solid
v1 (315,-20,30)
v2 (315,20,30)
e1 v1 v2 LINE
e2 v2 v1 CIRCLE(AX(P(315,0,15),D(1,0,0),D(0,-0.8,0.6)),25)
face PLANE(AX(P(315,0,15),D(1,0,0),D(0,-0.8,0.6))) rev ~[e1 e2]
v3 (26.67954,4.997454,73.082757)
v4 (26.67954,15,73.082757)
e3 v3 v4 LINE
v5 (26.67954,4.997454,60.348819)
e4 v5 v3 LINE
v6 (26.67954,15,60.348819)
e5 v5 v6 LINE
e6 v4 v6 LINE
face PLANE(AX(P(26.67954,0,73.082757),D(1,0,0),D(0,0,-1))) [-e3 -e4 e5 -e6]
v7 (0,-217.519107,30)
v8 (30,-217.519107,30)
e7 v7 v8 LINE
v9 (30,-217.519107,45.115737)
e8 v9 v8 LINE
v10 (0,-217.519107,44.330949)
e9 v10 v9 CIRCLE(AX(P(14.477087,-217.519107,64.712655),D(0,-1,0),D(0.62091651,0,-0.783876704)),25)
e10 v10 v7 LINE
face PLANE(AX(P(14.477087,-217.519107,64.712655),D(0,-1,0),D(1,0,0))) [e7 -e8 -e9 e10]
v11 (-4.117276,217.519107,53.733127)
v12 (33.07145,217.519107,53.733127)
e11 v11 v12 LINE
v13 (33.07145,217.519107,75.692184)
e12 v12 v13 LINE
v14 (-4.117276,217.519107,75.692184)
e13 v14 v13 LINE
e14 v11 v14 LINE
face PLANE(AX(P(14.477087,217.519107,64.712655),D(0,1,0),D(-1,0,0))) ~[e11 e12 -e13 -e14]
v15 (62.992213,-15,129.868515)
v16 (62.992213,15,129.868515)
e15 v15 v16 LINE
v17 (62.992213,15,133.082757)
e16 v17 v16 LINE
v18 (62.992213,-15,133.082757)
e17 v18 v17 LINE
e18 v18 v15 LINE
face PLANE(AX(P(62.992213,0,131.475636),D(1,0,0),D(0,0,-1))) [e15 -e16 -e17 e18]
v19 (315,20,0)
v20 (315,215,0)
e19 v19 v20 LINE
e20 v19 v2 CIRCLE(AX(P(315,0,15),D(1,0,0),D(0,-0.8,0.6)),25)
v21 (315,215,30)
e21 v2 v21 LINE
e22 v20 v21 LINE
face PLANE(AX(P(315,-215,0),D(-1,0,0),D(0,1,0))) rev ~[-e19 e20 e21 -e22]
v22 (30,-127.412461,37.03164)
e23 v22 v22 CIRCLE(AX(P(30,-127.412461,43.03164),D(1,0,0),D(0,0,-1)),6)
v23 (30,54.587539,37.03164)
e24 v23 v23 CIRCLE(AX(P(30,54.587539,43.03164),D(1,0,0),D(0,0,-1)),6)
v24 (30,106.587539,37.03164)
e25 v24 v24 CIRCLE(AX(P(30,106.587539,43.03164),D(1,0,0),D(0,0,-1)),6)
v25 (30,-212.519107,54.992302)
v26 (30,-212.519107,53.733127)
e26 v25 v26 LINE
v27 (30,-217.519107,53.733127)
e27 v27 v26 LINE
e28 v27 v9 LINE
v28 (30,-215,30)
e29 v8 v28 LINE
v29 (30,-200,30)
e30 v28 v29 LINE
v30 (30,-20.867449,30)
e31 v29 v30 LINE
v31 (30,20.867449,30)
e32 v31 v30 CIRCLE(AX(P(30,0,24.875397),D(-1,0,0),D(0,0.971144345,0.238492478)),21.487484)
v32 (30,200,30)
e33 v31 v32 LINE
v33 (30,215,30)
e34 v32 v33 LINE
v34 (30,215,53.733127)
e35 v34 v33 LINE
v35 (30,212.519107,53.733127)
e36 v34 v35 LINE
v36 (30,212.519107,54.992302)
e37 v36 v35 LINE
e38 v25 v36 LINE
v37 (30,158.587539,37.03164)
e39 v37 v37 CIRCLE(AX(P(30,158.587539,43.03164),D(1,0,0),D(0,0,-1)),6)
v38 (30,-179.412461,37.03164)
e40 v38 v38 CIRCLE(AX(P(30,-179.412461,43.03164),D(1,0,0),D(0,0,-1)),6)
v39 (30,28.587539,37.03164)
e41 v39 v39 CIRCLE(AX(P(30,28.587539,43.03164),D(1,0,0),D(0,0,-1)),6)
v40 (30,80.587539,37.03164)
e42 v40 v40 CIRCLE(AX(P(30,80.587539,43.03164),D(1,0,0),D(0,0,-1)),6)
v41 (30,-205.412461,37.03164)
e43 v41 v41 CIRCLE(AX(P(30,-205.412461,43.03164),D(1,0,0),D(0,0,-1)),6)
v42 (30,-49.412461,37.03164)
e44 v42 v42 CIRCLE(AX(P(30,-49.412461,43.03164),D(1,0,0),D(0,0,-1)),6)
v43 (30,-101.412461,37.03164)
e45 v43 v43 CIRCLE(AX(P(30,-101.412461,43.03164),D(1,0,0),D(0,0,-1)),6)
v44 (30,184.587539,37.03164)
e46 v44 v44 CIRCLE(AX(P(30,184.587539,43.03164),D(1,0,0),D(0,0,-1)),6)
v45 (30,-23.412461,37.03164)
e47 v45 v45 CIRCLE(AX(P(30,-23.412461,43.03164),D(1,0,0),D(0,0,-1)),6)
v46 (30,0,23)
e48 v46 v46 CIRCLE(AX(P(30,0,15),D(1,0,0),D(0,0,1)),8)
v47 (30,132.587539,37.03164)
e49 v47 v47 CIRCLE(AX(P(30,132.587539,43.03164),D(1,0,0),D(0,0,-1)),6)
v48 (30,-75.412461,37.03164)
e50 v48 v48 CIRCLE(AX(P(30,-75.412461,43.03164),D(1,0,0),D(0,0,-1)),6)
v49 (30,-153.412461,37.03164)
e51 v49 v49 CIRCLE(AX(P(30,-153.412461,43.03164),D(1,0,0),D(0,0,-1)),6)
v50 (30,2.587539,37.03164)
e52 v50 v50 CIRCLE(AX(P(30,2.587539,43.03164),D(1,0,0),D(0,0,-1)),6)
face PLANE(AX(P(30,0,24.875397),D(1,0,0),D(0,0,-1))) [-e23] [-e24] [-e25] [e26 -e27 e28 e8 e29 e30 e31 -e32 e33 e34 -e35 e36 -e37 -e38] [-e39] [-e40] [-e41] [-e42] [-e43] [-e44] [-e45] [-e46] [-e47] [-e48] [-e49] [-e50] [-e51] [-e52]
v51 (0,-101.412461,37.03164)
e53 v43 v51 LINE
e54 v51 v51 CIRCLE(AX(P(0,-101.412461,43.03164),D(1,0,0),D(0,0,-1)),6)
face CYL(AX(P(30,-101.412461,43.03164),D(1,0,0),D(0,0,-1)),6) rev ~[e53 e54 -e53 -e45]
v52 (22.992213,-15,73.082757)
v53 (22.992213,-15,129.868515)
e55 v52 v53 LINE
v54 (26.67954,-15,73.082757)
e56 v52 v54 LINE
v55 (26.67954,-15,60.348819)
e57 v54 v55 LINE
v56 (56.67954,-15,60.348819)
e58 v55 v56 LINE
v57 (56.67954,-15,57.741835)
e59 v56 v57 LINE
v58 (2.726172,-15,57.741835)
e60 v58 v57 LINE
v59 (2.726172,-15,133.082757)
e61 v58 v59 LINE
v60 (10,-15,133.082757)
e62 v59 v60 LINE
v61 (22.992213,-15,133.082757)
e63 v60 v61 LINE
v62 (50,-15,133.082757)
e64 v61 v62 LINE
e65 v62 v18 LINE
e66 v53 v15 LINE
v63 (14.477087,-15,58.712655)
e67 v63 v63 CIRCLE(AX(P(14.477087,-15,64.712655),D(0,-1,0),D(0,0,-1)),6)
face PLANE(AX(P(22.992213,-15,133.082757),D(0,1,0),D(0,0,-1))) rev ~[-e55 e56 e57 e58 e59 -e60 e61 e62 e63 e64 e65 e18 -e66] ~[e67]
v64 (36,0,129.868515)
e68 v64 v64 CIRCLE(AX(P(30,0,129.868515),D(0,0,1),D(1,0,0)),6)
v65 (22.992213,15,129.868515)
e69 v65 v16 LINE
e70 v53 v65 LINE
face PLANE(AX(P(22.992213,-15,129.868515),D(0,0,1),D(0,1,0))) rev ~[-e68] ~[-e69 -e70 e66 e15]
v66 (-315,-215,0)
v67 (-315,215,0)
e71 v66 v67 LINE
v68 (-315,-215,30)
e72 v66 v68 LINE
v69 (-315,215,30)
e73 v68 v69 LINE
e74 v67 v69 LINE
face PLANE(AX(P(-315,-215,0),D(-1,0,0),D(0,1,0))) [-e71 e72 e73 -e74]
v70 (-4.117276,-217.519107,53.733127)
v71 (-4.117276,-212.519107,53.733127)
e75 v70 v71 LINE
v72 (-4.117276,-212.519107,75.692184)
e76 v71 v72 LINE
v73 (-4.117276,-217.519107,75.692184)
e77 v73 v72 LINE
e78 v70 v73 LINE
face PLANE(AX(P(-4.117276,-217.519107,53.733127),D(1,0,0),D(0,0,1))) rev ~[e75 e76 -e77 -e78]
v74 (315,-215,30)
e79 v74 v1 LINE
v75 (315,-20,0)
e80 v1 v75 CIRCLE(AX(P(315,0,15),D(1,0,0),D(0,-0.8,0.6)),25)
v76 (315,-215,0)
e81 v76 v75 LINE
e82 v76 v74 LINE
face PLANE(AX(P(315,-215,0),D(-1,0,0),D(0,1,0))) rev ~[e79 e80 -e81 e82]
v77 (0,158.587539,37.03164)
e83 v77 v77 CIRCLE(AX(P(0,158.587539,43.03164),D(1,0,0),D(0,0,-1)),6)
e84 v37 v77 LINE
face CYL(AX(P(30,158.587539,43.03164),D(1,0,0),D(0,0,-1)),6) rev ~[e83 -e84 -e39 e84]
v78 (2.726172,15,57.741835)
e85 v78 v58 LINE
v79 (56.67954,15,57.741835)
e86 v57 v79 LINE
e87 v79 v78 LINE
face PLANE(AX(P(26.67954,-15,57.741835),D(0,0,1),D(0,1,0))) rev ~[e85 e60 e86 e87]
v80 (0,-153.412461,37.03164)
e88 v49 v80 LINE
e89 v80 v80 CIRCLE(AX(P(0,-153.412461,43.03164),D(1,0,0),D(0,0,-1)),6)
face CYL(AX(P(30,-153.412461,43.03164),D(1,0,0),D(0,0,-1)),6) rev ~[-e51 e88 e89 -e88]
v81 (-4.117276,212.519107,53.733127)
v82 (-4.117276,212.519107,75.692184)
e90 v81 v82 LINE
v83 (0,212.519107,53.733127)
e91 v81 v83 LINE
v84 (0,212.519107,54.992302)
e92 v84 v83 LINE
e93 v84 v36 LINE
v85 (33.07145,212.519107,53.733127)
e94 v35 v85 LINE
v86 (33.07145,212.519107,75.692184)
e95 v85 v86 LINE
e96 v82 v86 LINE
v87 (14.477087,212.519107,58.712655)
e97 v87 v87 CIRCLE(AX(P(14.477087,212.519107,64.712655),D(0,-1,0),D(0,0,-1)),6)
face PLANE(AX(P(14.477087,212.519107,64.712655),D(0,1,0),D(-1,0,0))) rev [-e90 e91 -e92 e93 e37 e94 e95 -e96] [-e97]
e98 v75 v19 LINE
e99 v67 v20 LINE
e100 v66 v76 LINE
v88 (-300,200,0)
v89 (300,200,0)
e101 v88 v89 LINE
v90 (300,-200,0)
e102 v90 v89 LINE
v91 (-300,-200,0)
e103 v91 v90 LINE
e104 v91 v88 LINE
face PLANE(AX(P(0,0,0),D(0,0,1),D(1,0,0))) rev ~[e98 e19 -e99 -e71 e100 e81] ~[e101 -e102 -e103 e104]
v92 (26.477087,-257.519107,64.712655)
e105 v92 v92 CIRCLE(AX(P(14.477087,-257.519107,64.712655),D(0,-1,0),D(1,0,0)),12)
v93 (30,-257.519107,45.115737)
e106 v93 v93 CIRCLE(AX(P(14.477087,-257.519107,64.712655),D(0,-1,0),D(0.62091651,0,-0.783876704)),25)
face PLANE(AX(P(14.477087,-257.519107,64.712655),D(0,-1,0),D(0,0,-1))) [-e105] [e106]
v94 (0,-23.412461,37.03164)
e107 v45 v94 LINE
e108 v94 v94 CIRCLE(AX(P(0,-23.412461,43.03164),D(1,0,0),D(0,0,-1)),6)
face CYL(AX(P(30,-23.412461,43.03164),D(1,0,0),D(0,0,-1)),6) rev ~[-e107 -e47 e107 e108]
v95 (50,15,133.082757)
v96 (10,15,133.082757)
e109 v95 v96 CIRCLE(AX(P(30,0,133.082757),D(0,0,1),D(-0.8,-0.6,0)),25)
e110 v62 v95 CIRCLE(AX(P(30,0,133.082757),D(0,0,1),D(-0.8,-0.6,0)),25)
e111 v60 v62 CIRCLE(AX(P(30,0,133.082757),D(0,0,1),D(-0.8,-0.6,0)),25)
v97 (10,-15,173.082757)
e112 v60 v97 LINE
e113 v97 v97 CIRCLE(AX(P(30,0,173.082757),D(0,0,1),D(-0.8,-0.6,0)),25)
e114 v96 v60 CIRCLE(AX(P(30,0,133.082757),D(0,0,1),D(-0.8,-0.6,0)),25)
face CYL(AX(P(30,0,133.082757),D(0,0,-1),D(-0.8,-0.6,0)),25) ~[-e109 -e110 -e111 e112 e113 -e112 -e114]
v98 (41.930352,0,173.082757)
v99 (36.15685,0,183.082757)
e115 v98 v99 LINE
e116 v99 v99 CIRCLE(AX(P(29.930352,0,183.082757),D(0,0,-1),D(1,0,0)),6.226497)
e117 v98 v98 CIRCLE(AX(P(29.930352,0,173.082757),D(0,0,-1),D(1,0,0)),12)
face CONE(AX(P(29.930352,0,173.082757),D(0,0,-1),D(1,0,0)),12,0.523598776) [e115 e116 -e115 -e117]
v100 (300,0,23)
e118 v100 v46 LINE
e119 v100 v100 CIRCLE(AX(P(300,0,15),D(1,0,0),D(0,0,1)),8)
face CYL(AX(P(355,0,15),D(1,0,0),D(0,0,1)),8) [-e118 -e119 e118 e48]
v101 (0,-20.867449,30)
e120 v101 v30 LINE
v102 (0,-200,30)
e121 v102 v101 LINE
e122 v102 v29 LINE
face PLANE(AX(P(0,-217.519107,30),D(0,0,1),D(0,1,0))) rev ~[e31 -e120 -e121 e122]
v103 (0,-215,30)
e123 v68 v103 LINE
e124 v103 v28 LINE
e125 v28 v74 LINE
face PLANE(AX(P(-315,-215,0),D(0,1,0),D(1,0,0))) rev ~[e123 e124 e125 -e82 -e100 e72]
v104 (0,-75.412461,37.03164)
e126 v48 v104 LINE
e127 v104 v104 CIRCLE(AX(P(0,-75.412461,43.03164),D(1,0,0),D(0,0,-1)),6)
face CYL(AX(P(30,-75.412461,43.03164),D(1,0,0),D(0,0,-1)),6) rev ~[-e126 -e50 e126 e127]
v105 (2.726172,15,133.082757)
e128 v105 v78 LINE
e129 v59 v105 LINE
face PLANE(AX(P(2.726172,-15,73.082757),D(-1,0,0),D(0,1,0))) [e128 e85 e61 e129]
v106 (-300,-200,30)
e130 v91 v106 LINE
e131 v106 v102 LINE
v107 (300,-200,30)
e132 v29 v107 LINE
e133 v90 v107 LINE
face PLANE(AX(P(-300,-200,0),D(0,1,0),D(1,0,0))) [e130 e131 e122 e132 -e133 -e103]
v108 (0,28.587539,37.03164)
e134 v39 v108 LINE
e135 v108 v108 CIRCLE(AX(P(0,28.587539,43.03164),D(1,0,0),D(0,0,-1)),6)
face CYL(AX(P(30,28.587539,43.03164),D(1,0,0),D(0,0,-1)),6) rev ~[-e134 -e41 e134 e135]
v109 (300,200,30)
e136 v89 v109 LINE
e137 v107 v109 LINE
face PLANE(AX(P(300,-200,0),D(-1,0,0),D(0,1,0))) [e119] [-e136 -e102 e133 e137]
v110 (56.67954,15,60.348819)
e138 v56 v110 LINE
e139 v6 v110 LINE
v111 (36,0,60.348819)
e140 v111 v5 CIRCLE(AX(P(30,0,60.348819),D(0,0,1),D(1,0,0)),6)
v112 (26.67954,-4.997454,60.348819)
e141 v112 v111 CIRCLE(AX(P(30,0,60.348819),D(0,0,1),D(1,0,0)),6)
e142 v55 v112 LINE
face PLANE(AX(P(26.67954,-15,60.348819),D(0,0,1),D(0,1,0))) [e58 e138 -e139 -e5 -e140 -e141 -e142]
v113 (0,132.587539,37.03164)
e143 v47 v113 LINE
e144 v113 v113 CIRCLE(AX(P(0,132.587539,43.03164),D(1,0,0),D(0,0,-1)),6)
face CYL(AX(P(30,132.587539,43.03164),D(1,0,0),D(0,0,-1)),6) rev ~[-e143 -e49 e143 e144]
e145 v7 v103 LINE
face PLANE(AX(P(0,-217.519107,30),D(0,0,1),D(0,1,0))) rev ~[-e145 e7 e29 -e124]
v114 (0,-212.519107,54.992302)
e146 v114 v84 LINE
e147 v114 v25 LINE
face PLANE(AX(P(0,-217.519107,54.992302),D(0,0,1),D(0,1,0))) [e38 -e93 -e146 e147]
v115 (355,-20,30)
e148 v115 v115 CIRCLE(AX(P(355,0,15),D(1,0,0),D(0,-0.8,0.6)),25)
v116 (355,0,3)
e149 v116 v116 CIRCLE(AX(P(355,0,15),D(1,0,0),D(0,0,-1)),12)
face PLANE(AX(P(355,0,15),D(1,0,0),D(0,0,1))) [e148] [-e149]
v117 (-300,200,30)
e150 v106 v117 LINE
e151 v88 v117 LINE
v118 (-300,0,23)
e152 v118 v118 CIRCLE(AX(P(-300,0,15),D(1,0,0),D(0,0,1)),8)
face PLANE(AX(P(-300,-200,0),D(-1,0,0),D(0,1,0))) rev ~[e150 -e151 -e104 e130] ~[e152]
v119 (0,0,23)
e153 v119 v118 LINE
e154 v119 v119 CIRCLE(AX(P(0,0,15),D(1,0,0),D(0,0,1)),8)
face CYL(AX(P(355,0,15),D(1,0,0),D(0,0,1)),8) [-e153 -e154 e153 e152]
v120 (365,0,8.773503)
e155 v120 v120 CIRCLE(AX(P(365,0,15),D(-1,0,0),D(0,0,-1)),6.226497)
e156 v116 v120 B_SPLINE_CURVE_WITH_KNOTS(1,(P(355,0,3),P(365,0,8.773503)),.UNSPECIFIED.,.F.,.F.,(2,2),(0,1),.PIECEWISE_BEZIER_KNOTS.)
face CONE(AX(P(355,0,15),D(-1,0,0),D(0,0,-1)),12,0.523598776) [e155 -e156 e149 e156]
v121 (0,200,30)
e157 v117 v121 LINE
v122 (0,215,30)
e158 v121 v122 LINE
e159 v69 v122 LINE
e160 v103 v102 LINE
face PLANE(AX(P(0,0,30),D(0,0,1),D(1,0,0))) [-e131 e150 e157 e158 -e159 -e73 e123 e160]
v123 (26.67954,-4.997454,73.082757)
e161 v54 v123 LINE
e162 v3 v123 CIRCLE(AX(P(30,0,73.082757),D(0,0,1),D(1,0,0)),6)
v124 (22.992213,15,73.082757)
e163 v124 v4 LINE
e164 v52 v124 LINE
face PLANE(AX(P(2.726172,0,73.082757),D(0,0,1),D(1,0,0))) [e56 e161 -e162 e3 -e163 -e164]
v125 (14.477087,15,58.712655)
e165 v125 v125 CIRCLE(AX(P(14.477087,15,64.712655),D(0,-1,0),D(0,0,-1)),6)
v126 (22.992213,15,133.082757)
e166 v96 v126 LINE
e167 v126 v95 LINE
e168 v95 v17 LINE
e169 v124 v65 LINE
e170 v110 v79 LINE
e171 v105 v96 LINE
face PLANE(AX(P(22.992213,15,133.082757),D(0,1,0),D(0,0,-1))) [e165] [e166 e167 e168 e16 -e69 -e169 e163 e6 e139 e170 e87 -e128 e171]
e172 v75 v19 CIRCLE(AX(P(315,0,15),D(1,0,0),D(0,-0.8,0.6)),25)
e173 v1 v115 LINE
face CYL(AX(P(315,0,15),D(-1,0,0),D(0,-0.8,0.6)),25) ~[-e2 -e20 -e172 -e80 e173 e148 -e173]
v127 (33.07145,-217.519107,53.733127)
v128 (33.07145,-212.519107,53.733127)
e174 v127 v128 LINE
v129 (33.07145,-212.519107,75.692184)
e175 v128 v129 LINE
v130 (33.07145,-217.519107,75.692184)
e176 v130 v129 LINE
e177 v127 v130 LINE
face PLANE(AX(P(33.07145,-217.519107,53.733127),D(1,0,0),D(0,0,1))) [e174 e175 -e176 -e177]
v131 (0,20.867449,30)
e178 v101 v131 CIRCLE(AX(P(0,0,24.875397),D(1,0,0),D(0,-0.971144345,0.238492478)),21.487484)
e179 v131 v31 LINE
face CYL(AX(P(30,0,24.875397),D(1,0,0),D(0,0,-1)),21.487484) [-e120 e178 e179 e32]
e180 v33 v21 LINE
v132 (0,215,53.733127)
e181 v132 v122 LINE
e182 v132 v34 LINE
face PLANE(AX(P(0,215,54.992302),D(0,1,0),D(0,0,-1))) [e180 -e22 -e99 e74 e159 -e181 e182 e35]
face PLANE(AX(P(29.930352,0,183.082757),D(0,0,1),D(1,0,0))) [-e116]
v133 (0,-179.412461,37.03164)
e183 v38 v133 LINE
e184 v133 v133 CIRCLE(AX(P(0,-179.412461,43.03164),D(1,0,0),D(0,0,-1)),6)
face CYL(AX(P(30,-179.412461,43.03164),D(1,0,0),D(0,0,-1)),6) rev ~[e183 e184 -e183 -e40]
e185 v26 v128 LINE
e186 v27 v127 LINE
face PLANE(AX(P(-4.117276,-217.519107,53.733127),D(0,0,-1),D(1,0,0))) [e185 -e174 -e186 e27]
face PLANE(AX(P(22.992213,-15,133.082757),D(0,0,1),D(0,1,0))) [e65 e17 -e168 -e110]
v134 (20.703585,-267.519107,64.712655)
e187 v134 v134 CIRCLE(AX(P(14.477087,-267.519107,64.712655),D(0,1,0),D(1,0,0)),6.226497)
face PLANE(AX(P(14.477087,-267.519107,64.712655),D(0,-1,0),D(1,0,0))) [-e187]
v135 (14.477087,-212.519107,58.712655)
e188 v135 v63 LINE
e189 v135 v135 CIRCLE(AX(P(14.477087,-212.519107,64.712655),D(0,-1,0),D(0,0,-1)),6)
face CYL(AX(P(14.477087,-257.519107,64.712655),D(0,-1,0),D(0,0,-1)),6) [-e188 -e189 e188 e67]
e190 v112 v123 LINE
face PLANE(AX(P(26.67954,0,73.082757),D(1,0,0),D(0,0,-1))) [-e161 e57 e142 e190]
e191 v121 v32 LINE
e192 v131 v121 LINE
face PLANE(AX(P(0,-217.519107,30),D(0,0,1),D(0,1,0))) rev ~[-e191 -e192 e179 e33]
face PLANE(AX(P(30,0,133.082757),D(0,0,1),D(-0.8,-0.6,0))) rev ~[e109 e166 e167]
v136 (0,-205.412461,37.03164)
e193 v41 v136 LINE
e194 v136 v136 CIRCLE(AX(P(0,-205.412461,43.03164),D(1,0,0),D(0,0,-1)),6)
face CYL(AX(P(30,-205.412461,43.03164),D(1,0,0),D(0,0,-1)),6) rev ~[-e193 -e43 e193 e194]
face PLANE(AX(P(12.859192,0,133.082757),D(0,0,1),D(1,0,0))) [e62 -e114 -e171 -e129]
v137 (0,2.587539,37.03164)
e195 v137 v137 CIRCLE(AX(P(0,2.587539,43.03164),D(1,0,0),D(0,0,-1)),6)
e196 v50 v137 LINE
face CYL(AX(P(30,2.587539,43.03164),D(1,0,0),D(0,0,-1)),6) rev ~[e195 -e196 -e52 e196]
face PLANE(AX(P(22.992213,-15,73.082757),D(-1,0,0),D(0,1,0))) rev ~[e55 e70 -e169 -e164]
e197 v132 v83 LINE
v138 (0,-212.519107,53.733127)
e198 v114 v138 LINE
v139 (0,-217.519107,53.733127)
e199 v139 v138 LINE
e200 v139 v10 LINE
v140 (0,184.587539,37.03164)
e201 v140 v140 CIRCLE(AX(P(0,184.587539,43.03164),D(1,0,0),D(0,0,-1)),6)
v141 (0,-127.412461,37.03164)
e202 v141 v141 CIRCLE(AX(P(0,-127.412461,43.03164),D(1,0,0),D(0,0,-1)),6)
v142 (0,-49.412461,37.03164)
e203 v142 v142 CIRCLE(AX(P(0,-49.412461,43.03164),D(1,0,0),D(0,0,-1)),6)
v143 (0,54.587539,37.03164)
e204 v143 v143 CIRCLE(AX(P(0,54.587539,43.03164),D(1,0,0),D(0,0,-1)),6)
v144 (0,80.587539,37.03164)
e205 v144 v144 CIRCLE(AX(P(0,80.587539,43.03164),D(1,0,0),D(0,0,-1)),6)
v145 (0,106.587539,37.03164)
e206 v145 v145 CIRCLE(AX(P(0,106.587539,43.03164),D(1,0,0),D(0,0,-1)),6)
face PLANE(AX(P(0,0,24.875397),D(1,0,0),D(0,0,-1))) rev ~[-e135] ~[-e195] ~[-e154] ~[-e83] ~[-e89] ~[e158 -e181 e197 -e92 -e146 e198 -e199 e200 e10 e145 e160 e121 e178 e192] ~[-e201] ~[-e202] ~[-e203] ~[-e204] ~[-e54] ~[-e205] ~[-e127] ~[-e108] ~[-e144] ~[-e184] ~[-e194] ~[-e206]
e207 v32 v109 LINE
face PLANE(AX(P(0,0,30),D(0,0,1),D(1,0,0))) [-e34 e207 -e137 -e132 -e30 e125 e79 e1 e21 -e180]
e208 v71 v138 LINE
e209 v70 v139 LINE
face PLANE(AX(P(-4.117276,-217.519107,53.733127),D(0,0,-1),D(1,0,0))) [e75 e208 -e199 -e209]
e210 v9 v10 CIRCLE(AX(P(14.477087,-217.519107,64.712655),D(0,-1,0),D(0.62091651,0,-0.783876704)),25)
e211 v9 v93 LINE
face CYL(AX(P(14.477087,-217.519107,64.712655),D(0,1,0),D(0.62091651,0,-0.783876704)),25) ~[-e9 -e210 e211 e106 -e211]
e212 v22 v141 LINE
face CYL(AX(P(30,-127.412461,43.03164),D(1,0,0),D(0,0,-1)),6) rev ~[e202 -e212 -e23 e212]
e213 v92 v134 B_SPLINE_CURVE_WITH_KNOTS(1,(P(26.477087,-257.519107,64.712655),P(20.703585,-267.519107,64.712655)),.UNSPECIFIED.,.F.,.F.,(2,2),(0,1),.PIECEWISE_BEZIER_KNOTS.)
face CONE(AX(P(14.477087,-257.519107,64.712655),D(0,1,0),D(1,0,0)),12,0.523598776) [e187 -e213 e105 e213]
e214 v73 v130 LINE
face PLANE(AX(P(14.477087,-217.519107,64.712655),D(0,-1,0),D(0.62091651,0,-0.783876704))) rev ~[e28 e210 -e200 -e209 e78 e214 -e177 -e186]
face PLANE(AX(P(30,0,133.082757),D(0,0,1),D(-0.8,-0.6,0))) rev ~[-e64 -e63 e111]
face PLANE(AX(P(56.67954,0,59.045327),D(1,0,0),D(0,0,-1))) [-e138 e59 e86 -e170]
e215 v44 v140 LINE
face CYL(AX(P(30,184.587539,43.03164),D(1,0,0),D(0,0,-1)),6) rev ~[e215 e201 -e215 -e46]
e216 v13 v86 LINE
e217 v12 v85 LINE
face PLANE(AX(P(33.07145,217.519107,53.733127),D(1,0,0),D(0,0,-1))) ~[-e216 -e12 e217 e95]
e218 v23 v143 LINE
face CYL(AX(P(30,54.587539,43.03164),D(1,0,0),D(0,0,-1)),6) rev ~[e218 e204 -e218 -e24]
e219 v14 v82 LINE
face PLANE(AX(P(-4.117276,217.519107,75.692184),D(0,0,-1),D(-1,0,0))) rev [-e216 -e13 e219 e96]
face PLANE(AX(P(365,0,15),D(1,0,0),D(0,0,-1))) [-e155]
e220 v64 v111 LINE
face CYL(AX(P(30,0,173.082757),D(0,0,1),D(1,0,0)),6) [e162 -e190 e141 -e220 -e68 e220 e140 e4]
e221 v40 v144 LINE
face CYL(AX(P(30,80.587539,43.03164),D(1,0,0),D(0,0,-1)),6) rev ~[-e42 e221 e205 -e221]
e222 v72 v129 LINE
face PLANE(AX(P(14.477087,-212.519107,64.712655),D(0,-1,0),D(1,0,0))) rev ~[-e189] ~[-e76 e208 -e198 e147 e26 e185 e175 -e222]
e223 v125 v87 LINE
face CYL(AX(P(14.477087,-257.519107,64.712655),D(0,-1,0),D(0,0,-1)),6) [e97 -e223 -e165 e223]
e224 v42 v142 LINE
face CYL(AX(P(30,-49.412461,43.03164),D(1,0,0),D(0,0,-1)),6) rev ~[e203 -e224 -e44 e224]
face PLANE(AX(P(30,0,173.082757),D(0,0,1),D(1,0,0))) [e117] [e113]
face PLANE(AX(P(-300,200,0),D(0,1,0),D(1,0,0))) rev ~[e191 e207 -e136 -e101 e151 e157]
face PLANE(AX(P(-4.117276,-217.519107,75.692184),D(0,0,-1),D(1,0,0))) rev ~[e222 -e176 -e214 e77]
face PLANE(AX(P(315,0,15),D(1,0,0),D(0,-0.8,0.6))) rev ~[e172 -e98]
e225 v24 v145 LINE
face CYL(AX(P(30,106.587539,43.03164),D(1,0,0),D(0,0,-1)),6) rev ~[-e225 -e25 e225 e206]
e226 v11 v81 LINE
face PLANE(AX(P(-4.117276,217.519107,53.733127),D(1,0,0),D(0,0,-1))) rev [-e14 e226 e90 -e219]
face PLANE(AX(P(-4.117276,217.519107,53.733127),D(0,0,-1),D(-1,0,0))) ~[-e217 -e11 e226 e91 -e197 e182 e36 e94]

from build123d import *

# Parameters (mm, degrees)
CROQUIS1_W               = 630
CROQUIS1_H               = 430
CROQUIS1_W_2             = 600
CROQUIS1_H_2             = 400
SALIENTE_EXTRUIR1_DEPTH  = 30
CROQUIS2_R               = 25
SALIENTE_EXTRUIR2_DEPTH  = 40
CROQUIS3_R               = 8
SALIENTE_EXTRUIR3_DEPTH  = 655
CROQUIS4_W               = 24.992302178
CROQUIS4_H               = 432.519106968
SALIENTE_EXTRUIR4_DEPTH  = 30
CROQUIS5_R               = 21.487484315
SALIENTE_EXTRUIR5_DEPTH  = 30
CROQUIS6_W               = 37.188725544
CROQUIS6_H               = 21.959056988
SALIENTE_EXTRUIR6_DEPTH  = 5
CROQUIS7_R               = 25
SALIENTE_EXTRUIR7_DEPTH  = 40
CROQUIS8_R               = 6
SALIENTE_EXTRUIR9_DEPTH  = 470.038213936
CROQUIS9_W               = 23.953368217
CROQUIS9_H               = 15.340921218
SALIENTE_EXTRUIR10_DEPTH = 15
CROQUIS10_W              = 20.266041209
CROQUIS10_H              = 30
SALIENTE_EXTRUIR11_DEPTH = 60
CROQUIS11_R              = 25
SALIENTE_EXTRUIR12_DEPTH = 40
CROQUIS12_W              = 2.6069841
CROQUIS12_H              = 30
SALIENTE_EXTRUIR13_DEPTH = 30
SALIENTE_EXTRUIR14_REACH = 477.248
CROQUIS13_R              = 6
CROQUIS14_W              = 3.214241105
CROQUIS14_H              = 30
SALIENTE_EXTRUIR15_DEPTH = 40
CROQUIS16_R              = 12
SALIENTE_EXTRUIR16_DEPTH = 10
SALIENTE_EXTRUIR16_TAPER = 30
CROQUIS17_R              = 12
SALIENTE_EXTRUIR17_DEPTH = 10
SALIENTE_EXTRUIR17_TAPER = 30
CROQUIS18_R              = 12
SALIENTE_EXTRUIR18_DEPTH = 10
SALIENTE_EXTRUIR18_TAPER = 30
CROQUIS19_R              = 6
CORTAR_EXTRUIR1_DEPTH    = 70


with BuildPart() as part:
    # Croquis1 → Saliente-Extruir1 (new body)
    with BuildSketch(Plane.XY):
        Rectangle(CROQUIS1_W, CROQUIS1_H)
        Rectangle(CROQUIS1_W_2, CROQUIS1_H_2, mode=Mode.SUBTRACT)
    extrude(amount=SALIENTE_EXTRUIR1_DEPTH)

    # Croquis2 → Saliente-Extruir2 (add)
    with BuildSketch(Plane(origin=(315, 0, 0), x_dir=(0, 0, -1), z_dir=(1, 0, 0))):
        with Locations(Location((-15, 0, 0), (0, 0, 233.130102354))):
            Circle(CROQUIS2_R)
    extrude(amount=SALIENTE_EXTRUIR2_DEPTH)

    # Croquis3 → Saliente-Extruir3 (add)
    with BuildSketch(Plane(origin=(355, 0, 0), x_dir=(0, 0, -1), z_dir=(1, 0, 0))):
        with Locations(Location((-15, 0, 0), (0, 0, 180))):
            Circle(CROQUIS3_R)
    extrude(amount=-SALIENTE_EXTRUIR3_DEPTH)

    # Croquis4 → Saliente-Extruir4 (add)
    with BuildSketch(Plane(origin=(0, 0, 0), x_dir=(0, 0, -1), z_dir=(1, 0, 0))):
        with Locations((-42.496151089, -1.259553484)):
            Rectangle(CROQUIS4_W, CROQUIS4_H)
    extrude(amount=SALIENTE_EXTRUIR4_DEPTH)

    # Croquis5 → Saliente-Extruir5 (add)
    with BuildSketch(Plane(origin=(30, 0, 0), x_dir=(0, 0, -1), z_dir=(1, 0, 0))):
        with Locations((-24.875396623, 0)):
            Circle(CROQUIS5_R)
    extrude(amount=-SALIENTE_EXTRUIR5_DEPTH)

    # Croquis6 → Saliente-Extruir6 (add)
    with BuildSketch(Plane.XZ.offset(217.519106968)):
        with Locations((14.477087252, 64.71265509)):
            Rectangle(CROQUIS6_W, CROQUIS6_H)
    saliente_extruir6 = extrude(amount=-SALIENTE_EXTRUIR6_DEPTH)

    # Simetría1: Saliente-Extruir6 across plane
    add(saliente_extruir6.mirror(Plane.ZX))

    # Croquis7 → Saliente-Extruir7 (add)
    with BuildSketch(Plane.XZ.offset(217.519106968)):
        with Locations(Location((14.477087252, 64.71265509, 0), (0, 0, 308.383093816))):
            Circle(CROQUIS7_R)
    extrude(amount=SALIENTE_EXTRUIR7_DEPTH)

    # Croquis8 → Saliente-Extruir9 (add)
    with BuildSketch(Plane.XZ.offset(257.519106968)):
        with Locations(Location((14.477087252, 64.71265509, 0), (0, 0, 270))):
            Circle(CROQUIS8_R)
    extrude(amount=-SALIENTE_EXTRUIR9_DEPTH)

    # Croquis9 → Saliente-Extruir10 (add, symmetric)
    with BuildSketch(Plane(origin=(0, 0, 0), x_dir=(1, 0, 0), z_dir=(0, 1, 0))):
        with Locations((14.702855752, -65.412295985)):
            Rectangle(CROQUIS9_W, CROQUIS9_H)
    extrude(amount=SALIENTE_EXTRUIR10_DEPTH, both=True)

    # Croquis10 → Saliente-Extruir11 (add)
    with BuildSketch(Plane.XY.offset(73.082756594)):
        with Locations((12.859192248, 0)):
            Rectangle(CROQUIS10_W, CROQUIS10_H)
    extrude(amount=SALIENTE_EXTRUIR11_DEPTH)

    # Croquis11 → Saliente-Extruir12 (add)
    with BuildSketch(Plane.XY.offset(133.082756594)):
        with Locations(Location((30, 0, 0), (0, 0, 216.869897646))):
            Circle(CROQUIS11_R)
    extrude(amount=SALIENTE_EXTRUIR12_DEPTH)

    # Croquis12 → Saliente-Extruir13 (add)
    with BuildSketch(Plane(origin=(26.67953986, 0, 0), x_dir=(0, 0, -1), z_dir=(1, 0, 0))):
        with Locations((-59.045327426, 0)):
            Rectangle(CROQUIS12_W, CROQUIS12_H)
    extrude(amount=SALIENTE_EXTRUIR13_DEPTH)

    # Saliente-Extruir14: up to this face of the body (flat: up to its plane)
    saliente_extruir14_end = Plane(part.part.faces().sort_by_distance((41.67953986, 0, 60.348819476))[0])
    # Croquis13 → Saliente-Extruir14 (add, up to the picked face)
    with BuildSketch(Plane.XY.offset(173.082756594), mode=Mode.PRIVATE) as saliente_extruir14_sk1:
        with Locations((30, 0)):
            Circle(CROQUIS13_R)
    saliente_extruir14_tool1 = split(extrude(saliente_extruir14_sk1.sketch, amount=-SALIENTE_EXTRUIR14_REACH, mode=Mode.PRIVATE), bisect_by=saliente_extruir14_end, keep=Keep.BOTH, mode=Mode.PRIVATE)
    add(saliente_extruir14_tool1.solids().sort_by(Axis((30, 0, 173.082757), (0, 0, -1)))[0])

    # Croquis14 → Saliente-Extruir15 (add)
    with BuildSketch(Plane(origin=(22.992212852, 0, 0), x_dir=(0, 0, -1), z_dir=(1, 0, 0))):
        with Locations((-131.475636042, 0)):
            Rectangle(CROQUIS14_W, CROQUIS14_H)
    extrude(amount=SALIENTE_EXTRUIR15_DEPTH)

    # Croquis16 → Saliente-Extruir16 (add)
    with BuildSketch(Plane(origin=(355, 0, 0), x_dir=(0, 0, -1), z_dir=(1, 0, 0))):
        with Locations((-15, 0)):
            Circle(CROQUIS16_R)
    extrude(amount=SALIENTE_EXTRUIR16_DEPTH, taper=SALIENTE_EXTRUIR16_TAPER)

    # Croquis17 → Saliente-Extruir17 (add)
    with BuildSketch(Plane.XZ.offset(257.519106968)):
        with Locations((14.477087252, 64.71265509)):
            Circle(CROQUIS17_R)
    extrude(amount=SALIENTE_EXTRUIR17_DEPTH, taper=SALIENTE_EXTRUIR17_TAPER)

    # Croquis18 → Saliente-Extruir18 (add)
    with BuildSketch(Plane.XY.offset(173.082756594)):
        with Locations((29.930352353, 0)):
            Circle(CROQUIS18_R)
    extrude(amount=SALIENTE_EXTRUIR18_DEPTH, taper=SALIENTE_EXTRUIR18_TAPER)

    # Croquis19 → Cortar-Extruir1 (cut)
    with BuildSketch(Plane(origin=(30, 0, 0), x_dir=(0, 0, -1), z_dir=(1, 0, 0))):
        with Locations((-43.031639772, -205.41246119)):
            Circle(CROQUIS19_R)
        with Locations((-43.031639772, -179.41246119)):
            Circle(CROQUIS19_R)
        with Locations((-43.031639772, -153.41246119)):
            Circle(CROQUIS19_R)
        with Locations((-43.031639772, -127.41246119)):
            Circle(CROQUIS19_R)
        with Locations((-43.031639772, -101.41246119)):
            Circle(CROQUIS19_R)
        with Locations((-43.031639772, -75.41246119)):
            Circle(CROQUIS19_R)
        with Locations((-43.031639772, -49.41246119)):
            Circle(CROQUIS19_R)
        with Locations((-43.031639772, -23.41246119)):
            Circle(CROQUIS19_R)
        with Locations((-43.031639772, 2.58753881)):
            Circle(CROQUIS19_R)
        with Locations((-43.031639772, 28.58753881)):
            Circle(CROQUIS19_R)
        with Locations((-43.031639772, 54.58753881)):
            Circle(CROQUIS19_R)
        with Locations((-43.031639772, 80.58753881)):
            Circle(CROQUIS19_R)
        with Locations((-43.031639772, 106.58753881)):
            Circle(CROQUIS19_R)
        with Locations((-43.031639772, 132.58753881)):
            Circle(CROQUIS19_R)
        with Locations((-43.031639772, 158.58753881)):
            Circle(CROQUIS19_R)
        with Locations((-43.031639772, 184.58753881)):
            Circle(CROQUIS19_R)
    extrude(amount=-CORTAR_EXTRUIR1_DEPTH, mode=Mode.SUBTRACT)


solid = part.part
